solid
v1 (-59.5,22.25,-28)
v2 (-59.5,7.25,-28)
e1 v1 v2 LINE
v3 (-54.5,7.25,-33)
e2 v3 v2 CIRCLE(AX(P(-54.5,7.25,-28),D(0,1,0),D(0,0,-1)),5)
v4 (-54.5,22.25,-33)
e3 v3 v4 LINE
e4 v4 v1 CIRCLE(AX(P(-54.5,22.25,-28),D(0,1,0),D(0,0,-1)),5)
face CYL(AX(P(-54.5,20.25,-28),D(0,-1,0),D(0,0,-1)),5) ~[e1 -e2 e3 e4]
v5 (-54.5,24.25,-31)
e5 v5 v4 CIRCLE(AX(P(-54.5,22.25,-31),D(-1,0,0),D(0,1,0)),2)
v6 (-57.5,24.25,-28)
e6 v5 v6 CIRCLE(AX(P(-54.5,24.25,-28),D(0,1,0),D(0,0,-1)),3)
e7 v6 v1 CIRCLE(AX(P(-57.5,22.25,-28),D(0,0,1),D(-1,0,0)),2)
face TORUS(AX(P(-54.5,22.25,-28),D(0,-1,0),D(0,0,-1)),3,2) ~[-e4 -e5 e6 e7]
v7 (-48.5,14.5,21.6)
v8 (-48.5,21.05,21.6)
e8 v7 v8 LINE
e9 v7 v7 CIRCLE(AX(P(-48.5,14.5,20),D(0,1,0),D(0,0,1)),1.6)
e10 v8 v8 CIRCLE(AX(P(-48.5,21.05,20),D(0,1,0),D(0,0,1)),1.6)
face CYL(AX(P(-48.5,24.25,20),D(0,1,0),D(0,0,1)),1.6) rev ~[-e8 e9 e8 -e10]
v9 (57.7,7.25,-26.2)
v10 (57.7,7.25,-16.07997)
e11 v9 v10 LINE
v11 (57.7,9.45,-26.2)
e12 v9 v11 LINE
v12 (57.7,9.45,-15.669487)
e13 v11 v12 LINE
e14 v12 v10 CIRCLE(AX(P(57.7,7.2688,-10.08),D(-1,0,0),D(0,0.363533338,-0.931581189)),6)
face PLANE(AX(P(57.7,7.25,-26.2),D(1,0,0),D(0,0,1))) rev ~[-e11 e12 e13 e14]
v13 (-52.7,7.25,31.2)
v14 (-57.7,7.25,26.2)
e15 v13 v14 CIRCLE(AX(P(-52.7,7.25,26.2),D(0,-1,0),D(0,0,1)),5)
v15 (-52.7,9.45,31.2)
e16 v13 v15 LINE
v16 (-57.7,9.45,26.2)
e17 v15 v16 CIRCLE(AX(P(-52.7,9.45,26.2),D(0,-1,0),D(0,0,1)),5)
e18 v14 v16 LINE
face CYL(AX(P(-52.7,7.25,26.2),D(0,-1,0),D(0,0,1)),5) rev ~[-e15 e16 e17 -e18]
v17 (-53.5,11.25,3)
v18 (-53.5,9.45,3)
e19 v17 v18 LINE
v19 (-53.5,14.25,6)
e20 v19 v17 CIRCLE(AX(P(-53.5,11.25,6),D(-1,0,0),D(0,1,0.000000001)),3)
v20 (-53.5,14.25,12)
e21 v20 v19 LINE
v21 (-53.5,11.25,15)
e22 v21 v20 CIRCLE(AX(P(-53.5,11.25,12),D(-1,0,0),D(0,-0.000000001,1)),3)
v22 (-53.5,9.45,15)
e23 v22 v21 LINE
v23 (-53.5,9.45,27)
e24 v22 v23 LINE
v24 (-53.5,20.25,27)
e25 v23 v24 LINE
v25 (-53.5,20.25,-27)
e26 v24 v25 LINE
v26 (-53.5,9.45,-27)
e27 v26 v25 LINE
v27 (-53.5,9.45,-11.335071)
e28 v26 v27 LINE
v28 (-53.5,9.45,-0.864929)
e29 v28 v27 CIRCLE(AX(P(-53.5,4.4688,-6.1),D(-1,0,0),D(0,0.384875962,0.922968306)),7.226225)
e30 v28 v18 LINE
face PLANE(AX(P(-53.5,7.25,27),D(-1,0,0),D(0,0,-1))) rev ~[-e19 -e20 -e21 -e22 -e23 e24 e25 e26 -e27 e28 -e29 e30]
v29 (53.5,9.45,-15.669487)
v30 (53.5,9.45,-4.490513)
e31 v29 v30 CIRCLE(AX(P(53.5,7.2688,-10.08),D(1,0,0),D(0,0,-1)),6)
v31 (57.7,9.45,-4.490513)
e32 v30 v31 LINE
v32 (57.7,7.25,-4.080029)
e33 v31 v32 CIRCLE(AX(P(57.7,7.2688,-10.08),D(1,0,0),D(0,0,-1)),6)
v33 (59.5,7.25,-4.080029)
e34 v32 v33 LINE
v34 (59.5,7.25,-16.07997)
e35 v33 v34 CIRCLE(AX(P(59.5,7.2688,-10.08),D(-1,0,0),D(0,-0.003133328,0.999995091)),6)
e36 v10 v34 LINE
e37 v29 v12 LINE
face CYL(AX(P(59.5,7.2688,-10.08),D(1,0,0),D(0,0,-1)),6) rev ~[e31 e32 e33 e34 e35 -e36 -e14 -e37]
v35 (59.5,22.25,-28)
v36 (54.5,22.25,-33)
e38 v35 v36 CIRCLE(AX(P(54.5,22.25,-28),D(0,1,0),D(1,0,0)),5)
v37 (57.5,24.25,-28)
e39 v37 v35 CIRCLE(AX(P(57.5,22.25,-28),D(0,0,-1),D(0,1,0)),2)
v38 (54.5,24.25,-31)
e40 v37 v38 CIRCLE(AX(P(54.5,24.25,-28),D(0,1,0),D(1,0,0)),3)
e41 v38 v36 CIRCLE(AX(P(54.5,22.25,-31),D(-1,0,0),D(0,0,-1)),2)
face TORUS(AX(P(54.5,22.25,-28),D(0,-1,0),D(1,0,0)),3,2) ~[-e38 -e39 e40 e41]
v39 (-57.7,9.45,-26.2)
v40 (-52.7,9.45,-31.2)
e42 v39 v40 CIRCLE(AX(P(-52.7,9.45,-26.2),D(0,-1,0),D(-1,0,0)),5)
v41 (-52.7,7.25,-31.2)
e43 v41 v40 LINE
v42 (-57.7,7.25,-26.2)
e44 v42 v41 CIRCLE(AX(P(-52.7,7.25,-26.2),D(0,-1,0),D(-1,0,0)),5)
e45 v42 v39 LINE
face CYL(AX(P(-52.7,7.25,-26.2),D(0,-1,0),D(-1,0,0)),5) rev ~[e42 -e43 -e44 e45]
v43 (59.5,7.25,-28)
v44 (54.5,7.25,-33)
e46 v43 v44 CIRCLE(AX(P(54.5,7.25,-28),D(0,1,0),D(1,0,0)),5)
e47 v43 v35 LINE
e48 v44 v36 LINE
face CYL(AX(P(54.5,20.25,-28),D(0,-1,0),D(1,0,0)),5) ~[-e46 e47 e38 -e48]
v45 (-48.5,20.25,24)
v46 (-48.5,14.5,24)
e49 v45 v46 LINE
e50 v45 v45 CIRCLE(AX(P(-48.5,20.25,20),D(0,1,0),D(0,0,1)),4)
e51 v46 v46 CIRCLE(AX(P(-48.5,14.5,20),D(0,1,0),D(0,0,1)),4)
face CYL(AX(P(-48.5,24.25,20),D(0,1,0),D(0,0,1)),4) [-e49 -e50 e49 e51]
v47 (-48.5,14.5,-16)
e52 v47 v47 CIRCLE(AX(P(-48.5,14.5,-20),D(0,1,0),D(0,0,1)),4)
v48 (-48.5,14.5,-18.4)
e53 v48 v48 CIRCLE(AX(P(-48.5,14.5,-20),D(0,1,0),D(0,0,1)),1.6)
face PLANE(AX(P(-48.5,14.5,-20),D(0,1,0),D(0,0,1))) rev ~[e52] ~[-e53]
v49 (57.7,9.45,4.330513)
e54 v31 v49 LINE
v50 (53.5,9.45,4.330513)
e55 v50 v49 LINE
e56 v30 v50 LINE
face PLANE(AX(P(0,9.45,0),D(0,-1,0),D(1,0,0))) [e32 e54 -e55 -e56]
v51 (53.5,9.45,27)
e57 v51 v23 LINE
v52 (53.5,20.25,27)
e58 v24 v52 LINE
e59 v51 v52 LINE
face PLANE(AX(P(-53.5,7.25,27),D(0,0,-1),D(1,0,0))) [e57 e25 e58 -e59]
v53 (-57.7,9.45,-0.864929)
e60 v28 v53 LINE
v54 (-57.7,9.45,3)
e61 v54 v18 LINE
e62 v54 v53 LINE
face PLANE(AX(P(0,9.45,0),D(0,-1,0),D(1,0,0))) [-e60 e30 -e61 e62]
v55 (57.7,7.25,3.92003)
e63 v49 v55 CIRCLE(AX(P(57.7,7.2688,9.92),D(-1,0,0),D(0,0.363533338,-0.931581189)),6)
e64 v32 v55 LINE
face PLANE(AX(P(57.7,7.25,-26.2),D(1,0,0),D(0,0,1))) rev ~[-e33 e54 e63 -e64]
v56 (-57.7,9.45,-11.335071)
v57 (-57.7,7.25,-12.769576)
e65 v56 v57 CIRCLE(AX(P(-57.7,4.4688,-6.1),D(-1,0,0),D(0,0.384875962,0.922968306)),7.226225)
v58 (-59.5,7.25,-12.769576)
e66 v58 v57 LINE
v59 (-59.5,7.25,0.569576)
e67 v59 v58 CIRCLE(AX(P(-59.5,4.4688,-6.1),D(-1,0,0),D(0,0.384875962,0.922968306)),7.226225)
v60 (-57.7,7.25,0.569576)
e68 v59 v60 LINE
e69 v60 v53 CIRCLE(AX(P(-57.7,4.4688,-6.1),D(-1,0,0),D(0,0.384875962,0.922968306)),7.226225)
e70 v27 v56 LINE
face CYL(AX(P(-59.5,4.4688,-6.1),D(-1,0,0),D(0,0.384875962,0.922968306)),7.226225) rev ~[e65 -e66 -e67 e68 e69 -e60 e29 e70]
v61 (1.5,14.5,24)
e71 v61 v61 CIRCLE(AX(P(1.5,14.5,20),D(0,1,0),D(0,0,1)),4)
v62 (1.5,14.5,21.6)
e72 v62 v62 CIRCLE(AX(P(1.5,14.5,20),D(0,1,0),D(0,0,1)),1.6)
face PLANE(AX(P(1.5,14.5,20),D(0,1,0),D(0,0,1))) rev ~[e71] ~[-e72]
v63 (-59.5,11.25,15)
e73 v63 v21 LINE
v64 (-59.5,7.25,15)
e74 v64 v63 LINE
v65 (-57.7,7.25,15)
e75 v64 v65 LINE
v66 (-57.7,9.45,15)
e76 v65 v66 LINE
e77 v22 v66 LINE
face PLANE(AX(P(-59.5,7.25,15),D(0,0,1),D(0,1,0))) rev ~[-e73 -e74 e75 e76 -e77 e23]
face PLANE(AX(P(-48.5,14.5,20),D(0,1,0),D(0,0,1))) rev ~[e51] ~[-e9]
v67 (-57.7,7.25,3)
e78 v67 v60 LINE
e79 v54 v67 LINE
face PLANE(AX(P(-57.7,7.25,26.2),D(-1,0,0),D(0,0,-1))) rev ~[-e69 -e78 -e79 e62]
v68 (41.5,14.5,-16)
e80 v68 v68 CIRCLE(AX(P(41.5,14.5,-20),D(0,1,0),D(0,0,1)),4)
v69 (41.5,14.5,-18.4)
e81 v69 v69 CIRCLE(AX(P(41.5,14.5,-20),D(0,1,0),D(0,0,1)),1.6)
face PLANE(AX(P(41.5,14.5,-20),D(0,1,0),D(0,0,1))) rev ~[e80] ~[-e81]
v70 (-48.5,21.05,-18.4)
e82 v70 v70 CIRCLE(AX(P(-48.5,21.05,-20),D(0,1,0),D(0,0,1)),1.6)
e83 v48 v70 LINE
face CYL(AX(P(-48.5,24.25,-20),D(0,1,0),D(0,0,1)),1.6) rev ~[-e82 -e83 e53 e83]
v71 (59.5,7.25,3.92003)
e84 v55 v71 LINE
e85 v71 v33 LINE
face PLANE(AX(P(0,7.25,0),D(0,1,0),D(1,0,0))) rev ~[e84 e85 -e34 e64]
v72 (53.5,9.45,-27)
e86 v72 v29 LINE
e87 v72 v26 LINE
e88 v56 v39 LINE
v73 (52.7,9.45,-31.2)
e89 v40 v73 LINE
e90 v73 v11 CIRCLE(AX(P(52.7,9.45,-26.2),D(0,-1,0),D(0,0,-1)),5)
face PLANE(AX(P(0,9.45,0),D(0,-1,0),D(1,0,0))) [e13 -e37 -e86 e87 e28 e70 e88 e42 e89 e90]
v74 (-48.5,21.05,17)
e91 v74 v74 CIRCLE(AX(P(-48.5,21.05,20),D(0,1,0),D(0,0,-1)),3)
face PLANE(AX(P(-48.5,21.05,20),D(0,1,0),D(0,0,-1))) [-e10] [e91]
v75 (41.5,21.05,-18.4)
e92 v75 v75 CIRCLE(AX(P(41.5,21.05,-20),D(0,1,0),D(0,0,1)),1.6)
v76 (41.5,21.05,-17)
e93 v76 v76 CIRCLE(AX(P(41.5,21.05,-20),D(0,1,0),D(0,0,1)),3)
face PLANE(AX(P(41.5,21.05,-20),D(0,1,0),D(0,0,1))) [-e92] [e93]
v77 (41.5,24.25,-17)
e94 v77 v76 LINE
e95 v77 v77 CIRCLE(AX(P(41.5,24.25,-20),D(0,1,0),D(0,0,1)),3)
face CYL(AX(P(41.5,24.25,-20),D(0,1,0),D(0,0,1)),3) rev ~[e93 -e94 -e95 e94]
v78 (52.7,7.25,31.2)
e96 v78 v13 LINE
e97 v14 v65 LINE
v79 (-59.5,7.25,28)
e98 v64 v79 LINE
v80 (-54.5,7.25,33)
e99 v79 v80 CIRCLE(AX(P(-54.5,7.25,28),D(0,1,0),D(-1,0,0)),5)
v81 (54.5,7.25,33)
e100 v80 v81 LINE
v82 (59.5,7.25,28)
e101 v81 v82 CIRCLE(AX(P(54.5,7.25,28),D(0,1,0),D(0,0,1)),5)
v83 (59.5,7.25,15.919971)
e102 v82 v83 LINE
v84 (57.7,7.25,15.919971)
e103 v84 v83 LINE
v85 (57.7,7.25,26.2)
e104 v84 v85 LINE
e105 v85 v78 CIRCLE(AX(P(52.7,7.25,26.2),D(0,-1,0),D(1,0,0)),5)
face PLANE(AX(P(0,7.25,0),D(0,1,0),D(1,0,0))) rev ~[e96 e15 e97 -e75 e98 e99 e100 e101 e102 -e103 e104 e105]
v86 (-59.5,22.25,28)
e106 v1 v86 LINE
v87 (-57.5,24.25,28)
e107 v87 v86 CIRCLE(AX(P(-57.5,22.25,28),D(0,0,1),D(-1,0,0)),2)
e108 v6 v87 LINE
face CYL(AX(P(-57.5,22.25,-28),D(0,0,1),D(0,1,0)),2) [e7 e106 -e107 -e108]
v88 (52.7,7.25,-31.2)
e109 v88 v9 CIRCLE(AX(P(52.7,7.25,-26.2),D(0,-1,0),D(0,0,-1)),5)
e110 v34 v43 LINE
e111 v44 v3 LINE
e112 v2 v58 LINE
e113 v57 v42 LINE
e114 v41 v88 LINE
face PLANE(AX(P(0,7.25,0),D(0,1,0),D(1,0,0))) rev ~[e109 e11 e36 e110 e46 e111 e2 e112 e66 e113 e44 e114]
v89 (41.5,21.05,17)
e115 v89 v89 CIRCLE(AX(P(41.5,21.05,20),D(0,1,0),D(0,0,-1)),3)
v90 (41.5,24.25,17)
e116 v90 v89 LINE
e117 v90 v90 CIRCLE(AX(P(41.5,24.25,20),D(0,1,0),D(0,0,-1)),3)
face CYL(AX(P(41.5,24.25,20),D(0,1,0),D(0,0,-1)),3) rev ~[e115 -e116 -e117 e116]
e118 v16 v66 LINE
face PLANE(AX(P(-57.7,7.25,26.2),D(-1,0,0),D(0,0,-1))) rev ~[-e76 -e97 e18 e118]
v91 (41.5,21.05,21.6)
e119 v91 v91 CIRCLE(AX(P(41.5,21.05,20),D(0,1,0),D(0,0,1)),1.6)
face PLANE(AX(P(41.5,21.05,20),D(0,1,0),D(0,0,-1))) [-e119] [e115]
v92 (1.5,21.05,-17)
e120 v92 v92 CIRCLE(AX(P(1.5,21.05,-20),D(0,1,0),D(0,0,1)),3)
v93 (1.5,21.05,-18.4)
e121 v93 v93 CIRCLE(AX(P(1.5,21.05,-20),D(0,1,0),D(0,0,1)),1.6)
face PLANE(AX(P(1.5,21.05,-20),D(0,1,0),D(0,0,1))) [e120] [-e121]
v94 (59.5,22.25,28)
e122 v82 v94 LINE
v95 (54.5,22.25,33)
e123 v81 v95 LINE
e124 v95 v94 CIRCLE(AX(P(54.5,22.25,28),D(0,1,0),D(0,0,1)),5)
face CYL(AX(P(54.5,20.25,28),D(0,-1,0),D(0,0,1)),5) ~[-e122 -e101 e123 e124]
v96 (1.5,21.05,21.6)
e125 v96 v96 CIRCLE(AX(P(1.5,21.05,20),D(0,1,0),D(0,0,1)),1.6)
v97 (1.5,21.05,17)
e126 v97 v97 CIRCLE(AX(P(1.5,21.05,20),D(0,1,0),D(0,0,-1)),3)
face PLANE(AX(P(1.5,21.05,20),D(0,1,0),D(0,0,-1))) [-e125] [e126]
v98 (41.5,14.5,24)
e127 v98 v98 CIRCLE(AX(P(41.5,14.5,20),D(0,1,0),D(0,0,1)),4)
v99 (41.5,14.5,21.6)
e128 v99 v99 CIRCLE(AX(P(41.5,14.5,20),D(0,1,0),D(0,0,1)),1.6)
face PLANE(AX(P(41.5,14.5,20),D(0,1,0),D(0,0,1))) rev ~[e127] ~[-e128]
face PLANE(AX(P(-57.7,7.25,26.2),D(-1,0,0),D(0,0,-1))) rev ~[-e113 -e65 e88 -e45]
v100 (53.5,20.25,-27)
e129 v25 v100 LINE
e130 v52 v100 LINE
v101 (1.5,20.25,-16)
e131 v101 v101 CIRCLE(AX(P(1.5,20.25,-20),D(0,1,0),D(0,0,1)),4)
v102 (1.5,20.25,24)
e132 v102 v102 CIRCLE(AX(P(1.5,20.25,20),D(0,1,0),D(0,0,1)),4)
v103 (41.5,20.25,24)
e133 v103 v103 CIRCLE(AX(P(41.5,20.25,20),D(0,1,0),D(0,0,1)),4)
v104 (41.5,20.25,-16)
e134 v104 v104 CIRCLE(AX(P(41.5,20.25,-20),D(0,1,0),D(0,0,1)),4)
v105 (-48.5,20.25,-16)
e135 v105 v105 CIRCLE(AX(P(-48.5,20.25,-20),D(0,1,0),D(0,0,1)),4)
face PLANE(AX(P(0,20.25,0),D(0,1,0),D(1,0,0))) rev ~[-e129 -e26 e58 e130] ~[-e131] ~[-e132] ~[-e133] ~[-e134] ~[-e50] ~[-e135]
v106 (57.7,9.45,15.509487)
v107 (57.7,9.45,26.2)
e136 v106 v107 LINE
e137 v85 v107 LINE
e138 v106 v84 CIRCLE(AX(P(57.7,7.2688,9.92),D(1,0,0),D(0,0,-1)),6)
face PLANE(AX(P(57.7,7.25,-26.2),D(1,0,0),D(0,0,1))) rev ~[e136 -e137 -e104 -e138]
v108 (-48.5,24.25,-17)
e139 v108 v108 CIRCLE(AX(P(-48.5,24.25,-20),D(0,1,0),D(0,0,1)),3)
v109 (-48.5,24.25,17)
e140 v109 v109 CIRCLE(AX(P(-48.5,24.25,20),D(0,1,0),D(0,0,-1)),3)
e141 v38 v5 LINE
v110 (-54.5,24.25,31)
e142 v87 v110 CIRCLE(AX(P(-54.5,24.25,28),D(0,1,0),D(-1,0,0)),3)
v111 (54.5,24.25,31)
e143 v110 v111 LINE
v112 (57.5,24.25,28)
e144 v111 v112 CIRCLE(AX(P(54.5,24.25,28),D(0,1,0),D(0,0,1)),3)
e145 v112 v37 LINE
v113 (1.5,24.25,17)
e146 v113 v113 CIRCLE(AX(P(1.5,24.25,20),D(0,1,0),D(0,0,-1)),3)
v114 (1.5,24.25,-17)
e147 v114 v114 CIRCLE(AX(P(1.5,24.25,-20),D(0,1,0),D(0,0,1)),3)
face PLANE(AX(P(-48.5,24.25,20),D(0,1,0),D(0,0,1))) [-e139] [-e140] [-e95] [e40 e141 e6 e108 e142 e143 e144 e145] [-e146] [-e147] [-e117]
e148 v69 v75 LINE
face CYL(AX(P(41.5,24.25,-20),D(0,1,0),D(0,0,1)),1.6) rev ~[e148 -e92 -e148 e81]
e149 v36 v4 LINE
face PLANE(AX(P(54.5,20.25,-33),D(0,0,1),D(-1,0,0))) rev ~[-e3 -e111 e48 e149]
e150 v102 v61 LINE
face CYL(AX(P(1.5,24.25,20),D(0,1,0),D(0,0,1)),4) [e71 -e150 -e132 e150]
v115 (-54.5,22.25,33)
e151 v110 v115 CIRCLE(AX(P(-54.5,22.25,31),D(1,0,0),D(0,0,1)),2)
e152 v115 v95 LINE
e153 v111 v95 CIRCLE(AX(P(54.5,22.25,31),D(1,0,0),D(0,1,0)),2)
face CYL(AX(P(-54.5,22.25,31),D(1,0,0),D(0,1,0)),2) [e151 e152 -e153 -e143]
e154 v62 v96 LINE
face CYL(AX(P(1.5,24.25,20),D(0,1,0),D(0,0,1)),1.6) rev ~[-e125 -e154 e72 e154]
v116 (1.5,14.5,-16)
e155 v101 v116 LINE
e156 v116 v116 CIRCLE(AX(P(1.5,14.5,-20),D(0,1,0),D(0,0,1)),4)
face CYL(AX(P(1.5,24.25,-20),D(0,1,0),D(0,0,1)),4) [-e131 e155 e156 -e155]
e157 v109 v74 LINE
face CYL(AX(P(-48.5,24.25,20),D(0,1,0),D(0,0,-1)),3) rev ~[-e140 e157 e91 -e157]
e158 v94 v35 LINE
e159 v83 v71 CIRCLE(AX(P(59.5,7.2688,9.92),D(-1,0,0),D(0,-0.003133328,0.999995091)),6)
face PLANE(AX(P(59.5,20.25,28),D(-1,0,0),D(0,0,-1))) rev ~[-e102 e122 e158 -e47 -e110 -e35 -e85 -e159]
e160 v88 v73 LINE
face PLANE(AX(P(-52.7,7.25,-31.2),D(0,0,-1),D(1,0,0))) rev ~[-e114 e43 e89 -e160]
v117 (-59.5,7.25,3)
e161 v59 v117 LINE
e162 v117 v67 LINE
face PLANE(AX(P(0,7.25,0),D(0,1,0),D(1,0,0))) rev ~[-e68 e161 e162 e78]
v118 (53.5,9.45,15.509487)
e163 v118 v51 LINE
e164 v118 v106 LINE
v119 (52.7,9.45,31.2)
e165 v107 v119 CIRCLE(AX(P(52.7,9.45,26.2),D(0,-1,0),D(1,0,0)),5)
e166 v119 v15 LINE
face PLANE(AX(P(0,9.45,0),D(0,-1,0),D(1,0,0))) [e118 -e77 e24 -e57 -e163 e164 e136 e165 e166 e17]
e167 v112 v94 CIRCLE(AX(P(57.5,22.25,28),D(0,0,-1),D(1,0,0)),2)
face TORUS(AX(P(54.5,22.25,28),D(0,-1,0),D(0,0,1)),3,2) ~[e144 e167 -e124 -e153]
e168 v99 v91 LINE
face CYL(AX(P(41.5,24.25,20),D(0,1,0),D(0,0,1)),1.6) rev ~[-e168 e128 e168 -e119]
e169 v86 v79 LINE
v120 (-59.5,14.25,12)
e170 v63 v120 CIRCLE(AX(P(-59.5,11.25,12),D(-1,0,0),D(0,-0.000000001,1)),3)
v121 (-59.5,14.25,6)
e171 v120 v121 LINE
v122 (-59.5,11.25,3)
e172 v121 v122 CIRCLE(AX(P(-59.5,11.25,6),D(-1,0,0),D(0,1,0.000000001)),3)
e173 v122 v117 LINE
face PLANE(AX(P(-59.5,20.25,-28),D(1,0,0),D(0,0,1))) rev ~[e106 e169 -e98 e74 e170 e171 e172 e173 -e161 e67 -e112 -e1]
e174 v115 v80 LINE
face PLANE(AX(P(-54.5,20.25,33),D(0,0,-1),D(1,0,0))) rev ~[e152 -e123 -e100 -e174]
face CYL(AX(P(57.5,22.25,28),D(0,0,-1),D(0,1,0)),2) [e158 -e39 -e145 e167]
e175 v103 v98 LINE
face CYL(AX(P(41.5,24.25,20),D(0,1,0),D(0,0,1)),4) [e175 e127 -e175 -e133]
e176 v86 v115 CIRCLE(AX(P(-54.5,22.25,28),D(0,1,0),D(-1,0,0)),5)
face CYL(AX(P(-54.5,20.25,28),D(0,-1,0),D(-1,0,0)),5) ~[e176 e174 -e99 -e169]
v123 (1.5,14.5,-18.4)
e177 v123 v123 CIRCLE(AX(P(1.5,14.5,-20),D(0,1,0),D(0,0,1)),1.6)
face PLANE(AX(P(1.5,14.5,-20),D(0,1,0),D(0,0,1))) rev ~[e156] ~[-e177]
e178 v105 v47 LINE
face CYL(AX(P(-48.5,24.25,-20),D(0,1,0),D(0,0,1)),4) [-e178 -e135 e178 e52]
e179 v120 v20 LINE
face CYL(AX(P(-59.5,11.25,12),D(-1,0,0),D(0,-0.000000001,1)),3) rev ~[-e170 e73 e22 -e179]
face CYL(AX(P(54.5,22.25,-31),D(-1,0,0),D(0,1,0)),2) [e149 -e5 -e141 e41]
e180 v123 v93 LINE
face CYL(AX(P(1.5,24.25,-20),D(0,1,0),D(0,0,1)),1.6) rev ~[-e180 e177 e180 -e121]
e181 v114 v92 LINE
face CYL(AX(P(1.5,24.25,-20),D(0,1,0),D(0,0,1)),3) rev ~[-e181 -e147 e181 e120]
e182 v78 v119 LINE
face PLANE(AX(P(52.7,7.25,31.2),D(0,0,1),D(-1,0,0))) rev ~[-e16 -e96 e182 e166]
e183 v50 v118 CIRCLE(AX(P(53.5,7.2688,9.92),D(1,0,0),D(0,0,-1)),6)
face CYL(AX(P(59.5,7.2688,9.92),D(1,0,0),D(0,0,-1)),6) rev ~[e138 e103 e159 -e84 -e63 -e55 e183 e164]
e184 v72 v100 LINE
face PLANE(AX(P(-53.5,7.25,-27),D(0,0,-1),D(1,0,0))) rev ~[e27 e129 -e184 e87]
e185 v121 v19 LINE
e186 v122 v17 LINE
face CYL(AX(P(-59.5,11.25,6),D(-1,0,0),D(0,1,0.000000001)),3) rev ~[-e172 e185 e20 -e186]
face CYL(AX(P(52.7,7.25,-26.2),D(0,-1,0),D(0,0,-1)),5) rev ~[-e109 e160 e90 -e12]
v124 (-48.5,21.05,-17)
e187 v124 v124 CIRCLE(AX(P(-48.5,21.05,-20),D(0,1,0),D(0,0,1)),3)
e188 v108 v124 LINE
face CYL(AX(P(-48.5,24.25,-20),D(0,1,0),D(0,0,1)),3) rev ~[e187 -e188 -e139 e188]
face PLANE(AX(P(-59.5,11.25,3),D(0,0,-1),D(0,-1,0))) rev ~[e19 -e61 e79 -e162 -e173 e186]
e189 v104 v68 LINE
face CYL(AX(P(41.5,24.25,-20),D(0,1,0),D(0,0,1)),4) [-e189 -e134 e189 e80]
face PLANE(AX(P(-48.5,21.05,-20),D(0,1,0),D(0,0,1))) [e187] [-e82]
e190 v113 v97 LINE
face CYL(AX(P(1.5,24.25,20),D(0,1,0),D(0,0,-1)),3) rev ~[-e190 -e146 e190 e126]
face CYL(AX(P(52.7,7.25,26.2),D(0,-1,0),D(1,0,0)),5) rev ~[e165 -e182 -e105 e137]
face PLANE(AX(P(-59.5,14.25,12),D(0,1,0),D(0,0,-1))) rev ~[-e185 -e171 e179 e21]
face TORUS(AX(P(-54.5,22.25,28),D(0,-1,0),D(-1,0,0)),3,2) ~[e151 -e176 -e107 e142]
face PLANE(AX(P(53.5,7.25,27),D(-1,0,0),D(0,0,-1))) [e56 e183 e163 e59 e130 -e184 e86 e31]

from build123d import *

# Parameters (mm, degrees)
SKETCH1_W           = 107
SKETCH1_H           = 54
BOSS_EXTRUDE1_DEPTH = 13
CUT_EXTRUDE1_DEPTH  = 2.2
BOSS_EXTRUDE2_DEPTH = 4
FILLET1_R           = 2
SKETCH4_R           = 6
CUT_EXTRUDE2_DEPTH  = 6
SKETCH6_R           = 7.226224696
CUT_EXTRUDE3_DEPTH  = 6
SKETCH9_R           = 4
SKETCH9_R_2         = 1.6
BOSS_EXTRUDE3_DEPTH = 9.75
SKETCH10_R          = 3
CUT_EXTRUDE5_DEPTH  = 3.2
SKETCH10_3_R        = 1.6
CUT_EXTRUDE6_DEPTH  = 71.130236122


with BuildPart() as part:
    # Sketch1 → Boss-Extrude1 (new body)
    with BuildSketch(Plane(origin=(0, 7.25, 0), x_dir=(1, 0, 0), z_dir=(0, 1, 0))):
        with BuildLine():
            Line((-54.5, -33), (54.5, -33))
            ThreePointArc((54.5, -33), (58.035533906, -31.535533906), (59.5, -28))
            Line((59.5, -28), (59.5, 28))
            ThreePointArc((59.5, 28), (58.035533906, 31.535533906), (54.5, 33))
            Line((54.5, 33), (-54.5, 33))
            ThreePointArc((-54.5, 33), (-58.035533906, 31.535533906), (-59.5, 28))
            Line((-59.5, 28), (-59.5, -28))
            ThreePointArc((-59.5, -28), (-58.035533906, -31.535533906), (-54.5, -33))
        make_face()
        Rectangle(SKETCH1_W, SKETCH1_H, mode=Mode.SUBTRACT)
    extrude(amount=BOSS_EXTRUDE1_DEPTH)

    # Sketch2 → Cut-Extrude1 (cut)
    with BuildSketch(Plane.XZ.offset(-7.25)):
        with BuildLine():
            Line((-52.7, -31.2), (52.7, -31.2))
            ThreePointArc((52.7, -31.2), (56.235533906, -29.735533906), (57.7, -26.2))
            Line((57.7, -26.2), (57.7, 26.2))
            ThreePointArc((57.7, 26.2), (56.235533906, 29.735533906), (52.7, 31.2))
            Line((52.7, 31.2), (-52.7, 31.2))
            ThreePointArc((-52.7, 31.2), (-56.235533906, 29.735533906), (-57.7, 26.2))
            Line((-57.7, 26.2), (-57.7, -26.2))
            ThreePointArc((-57.7, -26.2), (-56.235533906, -29.735533906), (-52.7, -31.2))
        make_face()
    extrude(amount=-CUT_EXTRUDE1_DEPTH, mode=Mode.SUBTRACT)

    # Sketch3 → Boss-Extrude2 (add)
    with BuildSketch(Plane(origin=(0, 20.25, 0), x_dir=(1, 0, 0), z_dir=(0, 1, 0))):
        with BuildLine():
            Line((-54.5, -33), (54.5, -33))
            ThreePointArc((54.5, -33), (58.035533906, -31.535533906), (59.5, -28))
            Line((59.5, -28), (59.5, 28))
            ThreePointArc((59.5, 28), (58.035533906, 31.535533906), (54.5, 33))
            Line((54.5, 33), (-54.5, 33))
            ThreePointArc((-54.5, 33), (-58.035533906, 31.535533906), (-59.5, 28))
            Line((-59.5, 28), (-59.5, -28))
            ThreePointArc((-59.5, -28), (-58.035533906, -31.535533906), (-54.5, -33))
        make_face()
    extrude(amount=BOSS_EXTRUDE2_DEPTH)

    # Fillet1
    fillet1_edges = [part.edges().sort_by_distance(p)[0] for p in [
        (-59.5, 24.25, 0),
        (-58.035533906, 24.25, -31.535533906),
        (0, 24.25, -33),
        (58.035533906, 24.25, -31.535533906),
        (59.5, 24.25, 0),
        (58.035533906, 24.25, 31.535533906),
        (0, 24.25, 33),
        (-58.035533906, 24.25, 31.535533906),
    ]]
    fillet(fillet1_edges, radius=FILLET1_R)

    # Sketch4 → Cut-Extrude2 (cut)
    with BuildSketch(Plane(origin=(59.5, 0, 0), x_dir=(0, 0, -1), z_dir=(1, 0, 0))):
        with Locations((-9.920000153, 7.26879997)):
            Circle(SKETCH4_R)
        with Locations((10.079999847, 7.26879997)):
            Circle(SKETCH4_R)
    extrude(amount=-CUT_EXTRUDE2_DEPTH, mode=Mode.SUBTRACT)

    # Sketch6 → Cut-Extrude3 (cut)
    with BuildSketch(Plane.ZY.offset(59.5)):
        with Locations((-6.1, 4.468799821)):
            Circle(SKETCH6_R)
        with BuildLine():
            Line((12, 14.25), (6, 14.25))
            ThreePointArc((6, 14.25), (3.878679656, 13.371320344), (3, 11.25))
            Line((3, 11.25), (3, 7.25))
            Line((3, 7.25), (15, 7.25))
            Line((15, 7.25), (15, 11.25))
            ThreePointArc((15, 11.25), (14.121320344, 13.371320344), (12, 14.25))
        make_face()
    extrude(amount=-CUT_EXTRUDE3_DEPTH, mode=Mode.SUBTRACT)

    # Sketch9 → Boss-Extrude3 (add)
    # profile 1 of 6: a face of its own
    with BuildSketch(Plane(origin=(0, 24.25, 0), x_dir=(1, 0, 0), z_dir=(0, 1, 0))):
        with Locations((-48.5, -20)):
            Circle(SKETCH9_R)
        with Locations((-48.5, -20)):
            Circle(SKETCH9_R_2, mode=Mode.SUBTRACT)
    # profile 2 of 6: a face of its own
    with BuildSketch(Plane(origin=(0, 24.25, 0), x_dir=(1, 0, 0), z_dir=(0, 1, 0))):
        with Locations((1.5, -20)):
            Circle(SKETCH9_R)
        with Locations((1.5, -20)):
            Circle(SKETCH9_R_2, mode=Mode.SUBTRACT)
    # profile 3 of 6: a face of its own
    with BuildSketch(Plane(origin=(0, 24.25, 0), x_dir=(1, 0, 0), z_dir=(0, 1, 0))):
        with Locations((41.5, -20)):
            Circle(SKETCH9_R)
        with Locations((41.5, -20)):
            Circle(SKETCH9_R_2, mode=Mode.SUBTRACT)
    # profile 4 of 6: a face of its own
    with BuildSketch(Plane(origin=(0, 24.25, 0), x_dir=(1, 0, 0), z_dir=(0, 1, 0))):
        with Locations((41.5, 20)):
            Circle(SKETCH9_R)
        with Locations((41.5, 20)):
            Circle(SKETCH9_R_2, mode=Mode.SUBTRACT)
    # profile 5 of 6: a face of its own
    with BuildSketch(Plane(origin=(0, 24.25, 0), x_dir=(1, 0, 0), z_dir=(0, 1, 0))):
        with Locations((1.5, 20)):
            Circle(SKETCH9_R)
        with Locations((1.5, 20)):
            Circle(SKETCH9_R_2, mode=Mode.SUBTRACT)
    # profile 6 of 6: a face of its own
    with BuildSketch(Plane(origin=(0, 24.25, 0), x_dir=(1, 0, 0), z_dir=(0, 1, 0))):
        with Locations((-48.5, 20)):
            Circle(SKETCH9_R)
        with Locations((-48.5, 20)):
            Circle(SKETCH9_R_2, mode=Mode.SUBTRACT)
    extrude(amount=-BOSS_EXTRUDE3_DEPTH)

    # Sketch10 → Cut-Extrude5 (cut)
    with BuildSketch(Plane(origin=(0, 24.25, 0), x_dir=(1, 0, 0), z_dir=(0, 1, 0))):
        with Locations((-48.5, 20)):
            Circle(SKETCH10_R)
        with Locations((1.5, 20)):
            Circle(SKETCH10_R)
        with Locations((41.5, 20)):
            Circle(SKETCH10_R)
        with Locations((41.5, -20)):
            Circle(SKETCH10_R)
        with Locations((1.5, -20)):
            Circle(SKETCH10_R)
        with Locations((-48.5, -20)):
            Circle(SKETCH10_R)
    extrude(amount=-CUT_EXTRUDE5_DEPTH, mode=Mode.SUBTRACT)

    # Sketch10<3> → Cut-Extrude6 (cut, through all)
    with BuildSketch(Plane(origin=(0, 24.25, 0), x_dir=(1, 0, 0), z_dir=(0, 1, 0))):
        with Locations((-48.5, 20)):
            Circle(SKETCH10_3_R)
        with Locations((1.5, 20)):
            Circle(SKETCH10_3_R)
        with Locations((41.5, 20)):
            Circle(SKETCH10_3_R)
        with Locations((41.5, -20)):
            Circle(SKETCH10_3_R)
        with Locations((1.5, -20)):
            Circle(SKETCH10_3_R)
        with Locations((-48.5, -20)):
            Circle(SKETCH10_3_R)
    extrude(amount=-CUT_EXTRUDE6_DEPTH, mode=Mode.SUBTRACT)


solid = part.part
